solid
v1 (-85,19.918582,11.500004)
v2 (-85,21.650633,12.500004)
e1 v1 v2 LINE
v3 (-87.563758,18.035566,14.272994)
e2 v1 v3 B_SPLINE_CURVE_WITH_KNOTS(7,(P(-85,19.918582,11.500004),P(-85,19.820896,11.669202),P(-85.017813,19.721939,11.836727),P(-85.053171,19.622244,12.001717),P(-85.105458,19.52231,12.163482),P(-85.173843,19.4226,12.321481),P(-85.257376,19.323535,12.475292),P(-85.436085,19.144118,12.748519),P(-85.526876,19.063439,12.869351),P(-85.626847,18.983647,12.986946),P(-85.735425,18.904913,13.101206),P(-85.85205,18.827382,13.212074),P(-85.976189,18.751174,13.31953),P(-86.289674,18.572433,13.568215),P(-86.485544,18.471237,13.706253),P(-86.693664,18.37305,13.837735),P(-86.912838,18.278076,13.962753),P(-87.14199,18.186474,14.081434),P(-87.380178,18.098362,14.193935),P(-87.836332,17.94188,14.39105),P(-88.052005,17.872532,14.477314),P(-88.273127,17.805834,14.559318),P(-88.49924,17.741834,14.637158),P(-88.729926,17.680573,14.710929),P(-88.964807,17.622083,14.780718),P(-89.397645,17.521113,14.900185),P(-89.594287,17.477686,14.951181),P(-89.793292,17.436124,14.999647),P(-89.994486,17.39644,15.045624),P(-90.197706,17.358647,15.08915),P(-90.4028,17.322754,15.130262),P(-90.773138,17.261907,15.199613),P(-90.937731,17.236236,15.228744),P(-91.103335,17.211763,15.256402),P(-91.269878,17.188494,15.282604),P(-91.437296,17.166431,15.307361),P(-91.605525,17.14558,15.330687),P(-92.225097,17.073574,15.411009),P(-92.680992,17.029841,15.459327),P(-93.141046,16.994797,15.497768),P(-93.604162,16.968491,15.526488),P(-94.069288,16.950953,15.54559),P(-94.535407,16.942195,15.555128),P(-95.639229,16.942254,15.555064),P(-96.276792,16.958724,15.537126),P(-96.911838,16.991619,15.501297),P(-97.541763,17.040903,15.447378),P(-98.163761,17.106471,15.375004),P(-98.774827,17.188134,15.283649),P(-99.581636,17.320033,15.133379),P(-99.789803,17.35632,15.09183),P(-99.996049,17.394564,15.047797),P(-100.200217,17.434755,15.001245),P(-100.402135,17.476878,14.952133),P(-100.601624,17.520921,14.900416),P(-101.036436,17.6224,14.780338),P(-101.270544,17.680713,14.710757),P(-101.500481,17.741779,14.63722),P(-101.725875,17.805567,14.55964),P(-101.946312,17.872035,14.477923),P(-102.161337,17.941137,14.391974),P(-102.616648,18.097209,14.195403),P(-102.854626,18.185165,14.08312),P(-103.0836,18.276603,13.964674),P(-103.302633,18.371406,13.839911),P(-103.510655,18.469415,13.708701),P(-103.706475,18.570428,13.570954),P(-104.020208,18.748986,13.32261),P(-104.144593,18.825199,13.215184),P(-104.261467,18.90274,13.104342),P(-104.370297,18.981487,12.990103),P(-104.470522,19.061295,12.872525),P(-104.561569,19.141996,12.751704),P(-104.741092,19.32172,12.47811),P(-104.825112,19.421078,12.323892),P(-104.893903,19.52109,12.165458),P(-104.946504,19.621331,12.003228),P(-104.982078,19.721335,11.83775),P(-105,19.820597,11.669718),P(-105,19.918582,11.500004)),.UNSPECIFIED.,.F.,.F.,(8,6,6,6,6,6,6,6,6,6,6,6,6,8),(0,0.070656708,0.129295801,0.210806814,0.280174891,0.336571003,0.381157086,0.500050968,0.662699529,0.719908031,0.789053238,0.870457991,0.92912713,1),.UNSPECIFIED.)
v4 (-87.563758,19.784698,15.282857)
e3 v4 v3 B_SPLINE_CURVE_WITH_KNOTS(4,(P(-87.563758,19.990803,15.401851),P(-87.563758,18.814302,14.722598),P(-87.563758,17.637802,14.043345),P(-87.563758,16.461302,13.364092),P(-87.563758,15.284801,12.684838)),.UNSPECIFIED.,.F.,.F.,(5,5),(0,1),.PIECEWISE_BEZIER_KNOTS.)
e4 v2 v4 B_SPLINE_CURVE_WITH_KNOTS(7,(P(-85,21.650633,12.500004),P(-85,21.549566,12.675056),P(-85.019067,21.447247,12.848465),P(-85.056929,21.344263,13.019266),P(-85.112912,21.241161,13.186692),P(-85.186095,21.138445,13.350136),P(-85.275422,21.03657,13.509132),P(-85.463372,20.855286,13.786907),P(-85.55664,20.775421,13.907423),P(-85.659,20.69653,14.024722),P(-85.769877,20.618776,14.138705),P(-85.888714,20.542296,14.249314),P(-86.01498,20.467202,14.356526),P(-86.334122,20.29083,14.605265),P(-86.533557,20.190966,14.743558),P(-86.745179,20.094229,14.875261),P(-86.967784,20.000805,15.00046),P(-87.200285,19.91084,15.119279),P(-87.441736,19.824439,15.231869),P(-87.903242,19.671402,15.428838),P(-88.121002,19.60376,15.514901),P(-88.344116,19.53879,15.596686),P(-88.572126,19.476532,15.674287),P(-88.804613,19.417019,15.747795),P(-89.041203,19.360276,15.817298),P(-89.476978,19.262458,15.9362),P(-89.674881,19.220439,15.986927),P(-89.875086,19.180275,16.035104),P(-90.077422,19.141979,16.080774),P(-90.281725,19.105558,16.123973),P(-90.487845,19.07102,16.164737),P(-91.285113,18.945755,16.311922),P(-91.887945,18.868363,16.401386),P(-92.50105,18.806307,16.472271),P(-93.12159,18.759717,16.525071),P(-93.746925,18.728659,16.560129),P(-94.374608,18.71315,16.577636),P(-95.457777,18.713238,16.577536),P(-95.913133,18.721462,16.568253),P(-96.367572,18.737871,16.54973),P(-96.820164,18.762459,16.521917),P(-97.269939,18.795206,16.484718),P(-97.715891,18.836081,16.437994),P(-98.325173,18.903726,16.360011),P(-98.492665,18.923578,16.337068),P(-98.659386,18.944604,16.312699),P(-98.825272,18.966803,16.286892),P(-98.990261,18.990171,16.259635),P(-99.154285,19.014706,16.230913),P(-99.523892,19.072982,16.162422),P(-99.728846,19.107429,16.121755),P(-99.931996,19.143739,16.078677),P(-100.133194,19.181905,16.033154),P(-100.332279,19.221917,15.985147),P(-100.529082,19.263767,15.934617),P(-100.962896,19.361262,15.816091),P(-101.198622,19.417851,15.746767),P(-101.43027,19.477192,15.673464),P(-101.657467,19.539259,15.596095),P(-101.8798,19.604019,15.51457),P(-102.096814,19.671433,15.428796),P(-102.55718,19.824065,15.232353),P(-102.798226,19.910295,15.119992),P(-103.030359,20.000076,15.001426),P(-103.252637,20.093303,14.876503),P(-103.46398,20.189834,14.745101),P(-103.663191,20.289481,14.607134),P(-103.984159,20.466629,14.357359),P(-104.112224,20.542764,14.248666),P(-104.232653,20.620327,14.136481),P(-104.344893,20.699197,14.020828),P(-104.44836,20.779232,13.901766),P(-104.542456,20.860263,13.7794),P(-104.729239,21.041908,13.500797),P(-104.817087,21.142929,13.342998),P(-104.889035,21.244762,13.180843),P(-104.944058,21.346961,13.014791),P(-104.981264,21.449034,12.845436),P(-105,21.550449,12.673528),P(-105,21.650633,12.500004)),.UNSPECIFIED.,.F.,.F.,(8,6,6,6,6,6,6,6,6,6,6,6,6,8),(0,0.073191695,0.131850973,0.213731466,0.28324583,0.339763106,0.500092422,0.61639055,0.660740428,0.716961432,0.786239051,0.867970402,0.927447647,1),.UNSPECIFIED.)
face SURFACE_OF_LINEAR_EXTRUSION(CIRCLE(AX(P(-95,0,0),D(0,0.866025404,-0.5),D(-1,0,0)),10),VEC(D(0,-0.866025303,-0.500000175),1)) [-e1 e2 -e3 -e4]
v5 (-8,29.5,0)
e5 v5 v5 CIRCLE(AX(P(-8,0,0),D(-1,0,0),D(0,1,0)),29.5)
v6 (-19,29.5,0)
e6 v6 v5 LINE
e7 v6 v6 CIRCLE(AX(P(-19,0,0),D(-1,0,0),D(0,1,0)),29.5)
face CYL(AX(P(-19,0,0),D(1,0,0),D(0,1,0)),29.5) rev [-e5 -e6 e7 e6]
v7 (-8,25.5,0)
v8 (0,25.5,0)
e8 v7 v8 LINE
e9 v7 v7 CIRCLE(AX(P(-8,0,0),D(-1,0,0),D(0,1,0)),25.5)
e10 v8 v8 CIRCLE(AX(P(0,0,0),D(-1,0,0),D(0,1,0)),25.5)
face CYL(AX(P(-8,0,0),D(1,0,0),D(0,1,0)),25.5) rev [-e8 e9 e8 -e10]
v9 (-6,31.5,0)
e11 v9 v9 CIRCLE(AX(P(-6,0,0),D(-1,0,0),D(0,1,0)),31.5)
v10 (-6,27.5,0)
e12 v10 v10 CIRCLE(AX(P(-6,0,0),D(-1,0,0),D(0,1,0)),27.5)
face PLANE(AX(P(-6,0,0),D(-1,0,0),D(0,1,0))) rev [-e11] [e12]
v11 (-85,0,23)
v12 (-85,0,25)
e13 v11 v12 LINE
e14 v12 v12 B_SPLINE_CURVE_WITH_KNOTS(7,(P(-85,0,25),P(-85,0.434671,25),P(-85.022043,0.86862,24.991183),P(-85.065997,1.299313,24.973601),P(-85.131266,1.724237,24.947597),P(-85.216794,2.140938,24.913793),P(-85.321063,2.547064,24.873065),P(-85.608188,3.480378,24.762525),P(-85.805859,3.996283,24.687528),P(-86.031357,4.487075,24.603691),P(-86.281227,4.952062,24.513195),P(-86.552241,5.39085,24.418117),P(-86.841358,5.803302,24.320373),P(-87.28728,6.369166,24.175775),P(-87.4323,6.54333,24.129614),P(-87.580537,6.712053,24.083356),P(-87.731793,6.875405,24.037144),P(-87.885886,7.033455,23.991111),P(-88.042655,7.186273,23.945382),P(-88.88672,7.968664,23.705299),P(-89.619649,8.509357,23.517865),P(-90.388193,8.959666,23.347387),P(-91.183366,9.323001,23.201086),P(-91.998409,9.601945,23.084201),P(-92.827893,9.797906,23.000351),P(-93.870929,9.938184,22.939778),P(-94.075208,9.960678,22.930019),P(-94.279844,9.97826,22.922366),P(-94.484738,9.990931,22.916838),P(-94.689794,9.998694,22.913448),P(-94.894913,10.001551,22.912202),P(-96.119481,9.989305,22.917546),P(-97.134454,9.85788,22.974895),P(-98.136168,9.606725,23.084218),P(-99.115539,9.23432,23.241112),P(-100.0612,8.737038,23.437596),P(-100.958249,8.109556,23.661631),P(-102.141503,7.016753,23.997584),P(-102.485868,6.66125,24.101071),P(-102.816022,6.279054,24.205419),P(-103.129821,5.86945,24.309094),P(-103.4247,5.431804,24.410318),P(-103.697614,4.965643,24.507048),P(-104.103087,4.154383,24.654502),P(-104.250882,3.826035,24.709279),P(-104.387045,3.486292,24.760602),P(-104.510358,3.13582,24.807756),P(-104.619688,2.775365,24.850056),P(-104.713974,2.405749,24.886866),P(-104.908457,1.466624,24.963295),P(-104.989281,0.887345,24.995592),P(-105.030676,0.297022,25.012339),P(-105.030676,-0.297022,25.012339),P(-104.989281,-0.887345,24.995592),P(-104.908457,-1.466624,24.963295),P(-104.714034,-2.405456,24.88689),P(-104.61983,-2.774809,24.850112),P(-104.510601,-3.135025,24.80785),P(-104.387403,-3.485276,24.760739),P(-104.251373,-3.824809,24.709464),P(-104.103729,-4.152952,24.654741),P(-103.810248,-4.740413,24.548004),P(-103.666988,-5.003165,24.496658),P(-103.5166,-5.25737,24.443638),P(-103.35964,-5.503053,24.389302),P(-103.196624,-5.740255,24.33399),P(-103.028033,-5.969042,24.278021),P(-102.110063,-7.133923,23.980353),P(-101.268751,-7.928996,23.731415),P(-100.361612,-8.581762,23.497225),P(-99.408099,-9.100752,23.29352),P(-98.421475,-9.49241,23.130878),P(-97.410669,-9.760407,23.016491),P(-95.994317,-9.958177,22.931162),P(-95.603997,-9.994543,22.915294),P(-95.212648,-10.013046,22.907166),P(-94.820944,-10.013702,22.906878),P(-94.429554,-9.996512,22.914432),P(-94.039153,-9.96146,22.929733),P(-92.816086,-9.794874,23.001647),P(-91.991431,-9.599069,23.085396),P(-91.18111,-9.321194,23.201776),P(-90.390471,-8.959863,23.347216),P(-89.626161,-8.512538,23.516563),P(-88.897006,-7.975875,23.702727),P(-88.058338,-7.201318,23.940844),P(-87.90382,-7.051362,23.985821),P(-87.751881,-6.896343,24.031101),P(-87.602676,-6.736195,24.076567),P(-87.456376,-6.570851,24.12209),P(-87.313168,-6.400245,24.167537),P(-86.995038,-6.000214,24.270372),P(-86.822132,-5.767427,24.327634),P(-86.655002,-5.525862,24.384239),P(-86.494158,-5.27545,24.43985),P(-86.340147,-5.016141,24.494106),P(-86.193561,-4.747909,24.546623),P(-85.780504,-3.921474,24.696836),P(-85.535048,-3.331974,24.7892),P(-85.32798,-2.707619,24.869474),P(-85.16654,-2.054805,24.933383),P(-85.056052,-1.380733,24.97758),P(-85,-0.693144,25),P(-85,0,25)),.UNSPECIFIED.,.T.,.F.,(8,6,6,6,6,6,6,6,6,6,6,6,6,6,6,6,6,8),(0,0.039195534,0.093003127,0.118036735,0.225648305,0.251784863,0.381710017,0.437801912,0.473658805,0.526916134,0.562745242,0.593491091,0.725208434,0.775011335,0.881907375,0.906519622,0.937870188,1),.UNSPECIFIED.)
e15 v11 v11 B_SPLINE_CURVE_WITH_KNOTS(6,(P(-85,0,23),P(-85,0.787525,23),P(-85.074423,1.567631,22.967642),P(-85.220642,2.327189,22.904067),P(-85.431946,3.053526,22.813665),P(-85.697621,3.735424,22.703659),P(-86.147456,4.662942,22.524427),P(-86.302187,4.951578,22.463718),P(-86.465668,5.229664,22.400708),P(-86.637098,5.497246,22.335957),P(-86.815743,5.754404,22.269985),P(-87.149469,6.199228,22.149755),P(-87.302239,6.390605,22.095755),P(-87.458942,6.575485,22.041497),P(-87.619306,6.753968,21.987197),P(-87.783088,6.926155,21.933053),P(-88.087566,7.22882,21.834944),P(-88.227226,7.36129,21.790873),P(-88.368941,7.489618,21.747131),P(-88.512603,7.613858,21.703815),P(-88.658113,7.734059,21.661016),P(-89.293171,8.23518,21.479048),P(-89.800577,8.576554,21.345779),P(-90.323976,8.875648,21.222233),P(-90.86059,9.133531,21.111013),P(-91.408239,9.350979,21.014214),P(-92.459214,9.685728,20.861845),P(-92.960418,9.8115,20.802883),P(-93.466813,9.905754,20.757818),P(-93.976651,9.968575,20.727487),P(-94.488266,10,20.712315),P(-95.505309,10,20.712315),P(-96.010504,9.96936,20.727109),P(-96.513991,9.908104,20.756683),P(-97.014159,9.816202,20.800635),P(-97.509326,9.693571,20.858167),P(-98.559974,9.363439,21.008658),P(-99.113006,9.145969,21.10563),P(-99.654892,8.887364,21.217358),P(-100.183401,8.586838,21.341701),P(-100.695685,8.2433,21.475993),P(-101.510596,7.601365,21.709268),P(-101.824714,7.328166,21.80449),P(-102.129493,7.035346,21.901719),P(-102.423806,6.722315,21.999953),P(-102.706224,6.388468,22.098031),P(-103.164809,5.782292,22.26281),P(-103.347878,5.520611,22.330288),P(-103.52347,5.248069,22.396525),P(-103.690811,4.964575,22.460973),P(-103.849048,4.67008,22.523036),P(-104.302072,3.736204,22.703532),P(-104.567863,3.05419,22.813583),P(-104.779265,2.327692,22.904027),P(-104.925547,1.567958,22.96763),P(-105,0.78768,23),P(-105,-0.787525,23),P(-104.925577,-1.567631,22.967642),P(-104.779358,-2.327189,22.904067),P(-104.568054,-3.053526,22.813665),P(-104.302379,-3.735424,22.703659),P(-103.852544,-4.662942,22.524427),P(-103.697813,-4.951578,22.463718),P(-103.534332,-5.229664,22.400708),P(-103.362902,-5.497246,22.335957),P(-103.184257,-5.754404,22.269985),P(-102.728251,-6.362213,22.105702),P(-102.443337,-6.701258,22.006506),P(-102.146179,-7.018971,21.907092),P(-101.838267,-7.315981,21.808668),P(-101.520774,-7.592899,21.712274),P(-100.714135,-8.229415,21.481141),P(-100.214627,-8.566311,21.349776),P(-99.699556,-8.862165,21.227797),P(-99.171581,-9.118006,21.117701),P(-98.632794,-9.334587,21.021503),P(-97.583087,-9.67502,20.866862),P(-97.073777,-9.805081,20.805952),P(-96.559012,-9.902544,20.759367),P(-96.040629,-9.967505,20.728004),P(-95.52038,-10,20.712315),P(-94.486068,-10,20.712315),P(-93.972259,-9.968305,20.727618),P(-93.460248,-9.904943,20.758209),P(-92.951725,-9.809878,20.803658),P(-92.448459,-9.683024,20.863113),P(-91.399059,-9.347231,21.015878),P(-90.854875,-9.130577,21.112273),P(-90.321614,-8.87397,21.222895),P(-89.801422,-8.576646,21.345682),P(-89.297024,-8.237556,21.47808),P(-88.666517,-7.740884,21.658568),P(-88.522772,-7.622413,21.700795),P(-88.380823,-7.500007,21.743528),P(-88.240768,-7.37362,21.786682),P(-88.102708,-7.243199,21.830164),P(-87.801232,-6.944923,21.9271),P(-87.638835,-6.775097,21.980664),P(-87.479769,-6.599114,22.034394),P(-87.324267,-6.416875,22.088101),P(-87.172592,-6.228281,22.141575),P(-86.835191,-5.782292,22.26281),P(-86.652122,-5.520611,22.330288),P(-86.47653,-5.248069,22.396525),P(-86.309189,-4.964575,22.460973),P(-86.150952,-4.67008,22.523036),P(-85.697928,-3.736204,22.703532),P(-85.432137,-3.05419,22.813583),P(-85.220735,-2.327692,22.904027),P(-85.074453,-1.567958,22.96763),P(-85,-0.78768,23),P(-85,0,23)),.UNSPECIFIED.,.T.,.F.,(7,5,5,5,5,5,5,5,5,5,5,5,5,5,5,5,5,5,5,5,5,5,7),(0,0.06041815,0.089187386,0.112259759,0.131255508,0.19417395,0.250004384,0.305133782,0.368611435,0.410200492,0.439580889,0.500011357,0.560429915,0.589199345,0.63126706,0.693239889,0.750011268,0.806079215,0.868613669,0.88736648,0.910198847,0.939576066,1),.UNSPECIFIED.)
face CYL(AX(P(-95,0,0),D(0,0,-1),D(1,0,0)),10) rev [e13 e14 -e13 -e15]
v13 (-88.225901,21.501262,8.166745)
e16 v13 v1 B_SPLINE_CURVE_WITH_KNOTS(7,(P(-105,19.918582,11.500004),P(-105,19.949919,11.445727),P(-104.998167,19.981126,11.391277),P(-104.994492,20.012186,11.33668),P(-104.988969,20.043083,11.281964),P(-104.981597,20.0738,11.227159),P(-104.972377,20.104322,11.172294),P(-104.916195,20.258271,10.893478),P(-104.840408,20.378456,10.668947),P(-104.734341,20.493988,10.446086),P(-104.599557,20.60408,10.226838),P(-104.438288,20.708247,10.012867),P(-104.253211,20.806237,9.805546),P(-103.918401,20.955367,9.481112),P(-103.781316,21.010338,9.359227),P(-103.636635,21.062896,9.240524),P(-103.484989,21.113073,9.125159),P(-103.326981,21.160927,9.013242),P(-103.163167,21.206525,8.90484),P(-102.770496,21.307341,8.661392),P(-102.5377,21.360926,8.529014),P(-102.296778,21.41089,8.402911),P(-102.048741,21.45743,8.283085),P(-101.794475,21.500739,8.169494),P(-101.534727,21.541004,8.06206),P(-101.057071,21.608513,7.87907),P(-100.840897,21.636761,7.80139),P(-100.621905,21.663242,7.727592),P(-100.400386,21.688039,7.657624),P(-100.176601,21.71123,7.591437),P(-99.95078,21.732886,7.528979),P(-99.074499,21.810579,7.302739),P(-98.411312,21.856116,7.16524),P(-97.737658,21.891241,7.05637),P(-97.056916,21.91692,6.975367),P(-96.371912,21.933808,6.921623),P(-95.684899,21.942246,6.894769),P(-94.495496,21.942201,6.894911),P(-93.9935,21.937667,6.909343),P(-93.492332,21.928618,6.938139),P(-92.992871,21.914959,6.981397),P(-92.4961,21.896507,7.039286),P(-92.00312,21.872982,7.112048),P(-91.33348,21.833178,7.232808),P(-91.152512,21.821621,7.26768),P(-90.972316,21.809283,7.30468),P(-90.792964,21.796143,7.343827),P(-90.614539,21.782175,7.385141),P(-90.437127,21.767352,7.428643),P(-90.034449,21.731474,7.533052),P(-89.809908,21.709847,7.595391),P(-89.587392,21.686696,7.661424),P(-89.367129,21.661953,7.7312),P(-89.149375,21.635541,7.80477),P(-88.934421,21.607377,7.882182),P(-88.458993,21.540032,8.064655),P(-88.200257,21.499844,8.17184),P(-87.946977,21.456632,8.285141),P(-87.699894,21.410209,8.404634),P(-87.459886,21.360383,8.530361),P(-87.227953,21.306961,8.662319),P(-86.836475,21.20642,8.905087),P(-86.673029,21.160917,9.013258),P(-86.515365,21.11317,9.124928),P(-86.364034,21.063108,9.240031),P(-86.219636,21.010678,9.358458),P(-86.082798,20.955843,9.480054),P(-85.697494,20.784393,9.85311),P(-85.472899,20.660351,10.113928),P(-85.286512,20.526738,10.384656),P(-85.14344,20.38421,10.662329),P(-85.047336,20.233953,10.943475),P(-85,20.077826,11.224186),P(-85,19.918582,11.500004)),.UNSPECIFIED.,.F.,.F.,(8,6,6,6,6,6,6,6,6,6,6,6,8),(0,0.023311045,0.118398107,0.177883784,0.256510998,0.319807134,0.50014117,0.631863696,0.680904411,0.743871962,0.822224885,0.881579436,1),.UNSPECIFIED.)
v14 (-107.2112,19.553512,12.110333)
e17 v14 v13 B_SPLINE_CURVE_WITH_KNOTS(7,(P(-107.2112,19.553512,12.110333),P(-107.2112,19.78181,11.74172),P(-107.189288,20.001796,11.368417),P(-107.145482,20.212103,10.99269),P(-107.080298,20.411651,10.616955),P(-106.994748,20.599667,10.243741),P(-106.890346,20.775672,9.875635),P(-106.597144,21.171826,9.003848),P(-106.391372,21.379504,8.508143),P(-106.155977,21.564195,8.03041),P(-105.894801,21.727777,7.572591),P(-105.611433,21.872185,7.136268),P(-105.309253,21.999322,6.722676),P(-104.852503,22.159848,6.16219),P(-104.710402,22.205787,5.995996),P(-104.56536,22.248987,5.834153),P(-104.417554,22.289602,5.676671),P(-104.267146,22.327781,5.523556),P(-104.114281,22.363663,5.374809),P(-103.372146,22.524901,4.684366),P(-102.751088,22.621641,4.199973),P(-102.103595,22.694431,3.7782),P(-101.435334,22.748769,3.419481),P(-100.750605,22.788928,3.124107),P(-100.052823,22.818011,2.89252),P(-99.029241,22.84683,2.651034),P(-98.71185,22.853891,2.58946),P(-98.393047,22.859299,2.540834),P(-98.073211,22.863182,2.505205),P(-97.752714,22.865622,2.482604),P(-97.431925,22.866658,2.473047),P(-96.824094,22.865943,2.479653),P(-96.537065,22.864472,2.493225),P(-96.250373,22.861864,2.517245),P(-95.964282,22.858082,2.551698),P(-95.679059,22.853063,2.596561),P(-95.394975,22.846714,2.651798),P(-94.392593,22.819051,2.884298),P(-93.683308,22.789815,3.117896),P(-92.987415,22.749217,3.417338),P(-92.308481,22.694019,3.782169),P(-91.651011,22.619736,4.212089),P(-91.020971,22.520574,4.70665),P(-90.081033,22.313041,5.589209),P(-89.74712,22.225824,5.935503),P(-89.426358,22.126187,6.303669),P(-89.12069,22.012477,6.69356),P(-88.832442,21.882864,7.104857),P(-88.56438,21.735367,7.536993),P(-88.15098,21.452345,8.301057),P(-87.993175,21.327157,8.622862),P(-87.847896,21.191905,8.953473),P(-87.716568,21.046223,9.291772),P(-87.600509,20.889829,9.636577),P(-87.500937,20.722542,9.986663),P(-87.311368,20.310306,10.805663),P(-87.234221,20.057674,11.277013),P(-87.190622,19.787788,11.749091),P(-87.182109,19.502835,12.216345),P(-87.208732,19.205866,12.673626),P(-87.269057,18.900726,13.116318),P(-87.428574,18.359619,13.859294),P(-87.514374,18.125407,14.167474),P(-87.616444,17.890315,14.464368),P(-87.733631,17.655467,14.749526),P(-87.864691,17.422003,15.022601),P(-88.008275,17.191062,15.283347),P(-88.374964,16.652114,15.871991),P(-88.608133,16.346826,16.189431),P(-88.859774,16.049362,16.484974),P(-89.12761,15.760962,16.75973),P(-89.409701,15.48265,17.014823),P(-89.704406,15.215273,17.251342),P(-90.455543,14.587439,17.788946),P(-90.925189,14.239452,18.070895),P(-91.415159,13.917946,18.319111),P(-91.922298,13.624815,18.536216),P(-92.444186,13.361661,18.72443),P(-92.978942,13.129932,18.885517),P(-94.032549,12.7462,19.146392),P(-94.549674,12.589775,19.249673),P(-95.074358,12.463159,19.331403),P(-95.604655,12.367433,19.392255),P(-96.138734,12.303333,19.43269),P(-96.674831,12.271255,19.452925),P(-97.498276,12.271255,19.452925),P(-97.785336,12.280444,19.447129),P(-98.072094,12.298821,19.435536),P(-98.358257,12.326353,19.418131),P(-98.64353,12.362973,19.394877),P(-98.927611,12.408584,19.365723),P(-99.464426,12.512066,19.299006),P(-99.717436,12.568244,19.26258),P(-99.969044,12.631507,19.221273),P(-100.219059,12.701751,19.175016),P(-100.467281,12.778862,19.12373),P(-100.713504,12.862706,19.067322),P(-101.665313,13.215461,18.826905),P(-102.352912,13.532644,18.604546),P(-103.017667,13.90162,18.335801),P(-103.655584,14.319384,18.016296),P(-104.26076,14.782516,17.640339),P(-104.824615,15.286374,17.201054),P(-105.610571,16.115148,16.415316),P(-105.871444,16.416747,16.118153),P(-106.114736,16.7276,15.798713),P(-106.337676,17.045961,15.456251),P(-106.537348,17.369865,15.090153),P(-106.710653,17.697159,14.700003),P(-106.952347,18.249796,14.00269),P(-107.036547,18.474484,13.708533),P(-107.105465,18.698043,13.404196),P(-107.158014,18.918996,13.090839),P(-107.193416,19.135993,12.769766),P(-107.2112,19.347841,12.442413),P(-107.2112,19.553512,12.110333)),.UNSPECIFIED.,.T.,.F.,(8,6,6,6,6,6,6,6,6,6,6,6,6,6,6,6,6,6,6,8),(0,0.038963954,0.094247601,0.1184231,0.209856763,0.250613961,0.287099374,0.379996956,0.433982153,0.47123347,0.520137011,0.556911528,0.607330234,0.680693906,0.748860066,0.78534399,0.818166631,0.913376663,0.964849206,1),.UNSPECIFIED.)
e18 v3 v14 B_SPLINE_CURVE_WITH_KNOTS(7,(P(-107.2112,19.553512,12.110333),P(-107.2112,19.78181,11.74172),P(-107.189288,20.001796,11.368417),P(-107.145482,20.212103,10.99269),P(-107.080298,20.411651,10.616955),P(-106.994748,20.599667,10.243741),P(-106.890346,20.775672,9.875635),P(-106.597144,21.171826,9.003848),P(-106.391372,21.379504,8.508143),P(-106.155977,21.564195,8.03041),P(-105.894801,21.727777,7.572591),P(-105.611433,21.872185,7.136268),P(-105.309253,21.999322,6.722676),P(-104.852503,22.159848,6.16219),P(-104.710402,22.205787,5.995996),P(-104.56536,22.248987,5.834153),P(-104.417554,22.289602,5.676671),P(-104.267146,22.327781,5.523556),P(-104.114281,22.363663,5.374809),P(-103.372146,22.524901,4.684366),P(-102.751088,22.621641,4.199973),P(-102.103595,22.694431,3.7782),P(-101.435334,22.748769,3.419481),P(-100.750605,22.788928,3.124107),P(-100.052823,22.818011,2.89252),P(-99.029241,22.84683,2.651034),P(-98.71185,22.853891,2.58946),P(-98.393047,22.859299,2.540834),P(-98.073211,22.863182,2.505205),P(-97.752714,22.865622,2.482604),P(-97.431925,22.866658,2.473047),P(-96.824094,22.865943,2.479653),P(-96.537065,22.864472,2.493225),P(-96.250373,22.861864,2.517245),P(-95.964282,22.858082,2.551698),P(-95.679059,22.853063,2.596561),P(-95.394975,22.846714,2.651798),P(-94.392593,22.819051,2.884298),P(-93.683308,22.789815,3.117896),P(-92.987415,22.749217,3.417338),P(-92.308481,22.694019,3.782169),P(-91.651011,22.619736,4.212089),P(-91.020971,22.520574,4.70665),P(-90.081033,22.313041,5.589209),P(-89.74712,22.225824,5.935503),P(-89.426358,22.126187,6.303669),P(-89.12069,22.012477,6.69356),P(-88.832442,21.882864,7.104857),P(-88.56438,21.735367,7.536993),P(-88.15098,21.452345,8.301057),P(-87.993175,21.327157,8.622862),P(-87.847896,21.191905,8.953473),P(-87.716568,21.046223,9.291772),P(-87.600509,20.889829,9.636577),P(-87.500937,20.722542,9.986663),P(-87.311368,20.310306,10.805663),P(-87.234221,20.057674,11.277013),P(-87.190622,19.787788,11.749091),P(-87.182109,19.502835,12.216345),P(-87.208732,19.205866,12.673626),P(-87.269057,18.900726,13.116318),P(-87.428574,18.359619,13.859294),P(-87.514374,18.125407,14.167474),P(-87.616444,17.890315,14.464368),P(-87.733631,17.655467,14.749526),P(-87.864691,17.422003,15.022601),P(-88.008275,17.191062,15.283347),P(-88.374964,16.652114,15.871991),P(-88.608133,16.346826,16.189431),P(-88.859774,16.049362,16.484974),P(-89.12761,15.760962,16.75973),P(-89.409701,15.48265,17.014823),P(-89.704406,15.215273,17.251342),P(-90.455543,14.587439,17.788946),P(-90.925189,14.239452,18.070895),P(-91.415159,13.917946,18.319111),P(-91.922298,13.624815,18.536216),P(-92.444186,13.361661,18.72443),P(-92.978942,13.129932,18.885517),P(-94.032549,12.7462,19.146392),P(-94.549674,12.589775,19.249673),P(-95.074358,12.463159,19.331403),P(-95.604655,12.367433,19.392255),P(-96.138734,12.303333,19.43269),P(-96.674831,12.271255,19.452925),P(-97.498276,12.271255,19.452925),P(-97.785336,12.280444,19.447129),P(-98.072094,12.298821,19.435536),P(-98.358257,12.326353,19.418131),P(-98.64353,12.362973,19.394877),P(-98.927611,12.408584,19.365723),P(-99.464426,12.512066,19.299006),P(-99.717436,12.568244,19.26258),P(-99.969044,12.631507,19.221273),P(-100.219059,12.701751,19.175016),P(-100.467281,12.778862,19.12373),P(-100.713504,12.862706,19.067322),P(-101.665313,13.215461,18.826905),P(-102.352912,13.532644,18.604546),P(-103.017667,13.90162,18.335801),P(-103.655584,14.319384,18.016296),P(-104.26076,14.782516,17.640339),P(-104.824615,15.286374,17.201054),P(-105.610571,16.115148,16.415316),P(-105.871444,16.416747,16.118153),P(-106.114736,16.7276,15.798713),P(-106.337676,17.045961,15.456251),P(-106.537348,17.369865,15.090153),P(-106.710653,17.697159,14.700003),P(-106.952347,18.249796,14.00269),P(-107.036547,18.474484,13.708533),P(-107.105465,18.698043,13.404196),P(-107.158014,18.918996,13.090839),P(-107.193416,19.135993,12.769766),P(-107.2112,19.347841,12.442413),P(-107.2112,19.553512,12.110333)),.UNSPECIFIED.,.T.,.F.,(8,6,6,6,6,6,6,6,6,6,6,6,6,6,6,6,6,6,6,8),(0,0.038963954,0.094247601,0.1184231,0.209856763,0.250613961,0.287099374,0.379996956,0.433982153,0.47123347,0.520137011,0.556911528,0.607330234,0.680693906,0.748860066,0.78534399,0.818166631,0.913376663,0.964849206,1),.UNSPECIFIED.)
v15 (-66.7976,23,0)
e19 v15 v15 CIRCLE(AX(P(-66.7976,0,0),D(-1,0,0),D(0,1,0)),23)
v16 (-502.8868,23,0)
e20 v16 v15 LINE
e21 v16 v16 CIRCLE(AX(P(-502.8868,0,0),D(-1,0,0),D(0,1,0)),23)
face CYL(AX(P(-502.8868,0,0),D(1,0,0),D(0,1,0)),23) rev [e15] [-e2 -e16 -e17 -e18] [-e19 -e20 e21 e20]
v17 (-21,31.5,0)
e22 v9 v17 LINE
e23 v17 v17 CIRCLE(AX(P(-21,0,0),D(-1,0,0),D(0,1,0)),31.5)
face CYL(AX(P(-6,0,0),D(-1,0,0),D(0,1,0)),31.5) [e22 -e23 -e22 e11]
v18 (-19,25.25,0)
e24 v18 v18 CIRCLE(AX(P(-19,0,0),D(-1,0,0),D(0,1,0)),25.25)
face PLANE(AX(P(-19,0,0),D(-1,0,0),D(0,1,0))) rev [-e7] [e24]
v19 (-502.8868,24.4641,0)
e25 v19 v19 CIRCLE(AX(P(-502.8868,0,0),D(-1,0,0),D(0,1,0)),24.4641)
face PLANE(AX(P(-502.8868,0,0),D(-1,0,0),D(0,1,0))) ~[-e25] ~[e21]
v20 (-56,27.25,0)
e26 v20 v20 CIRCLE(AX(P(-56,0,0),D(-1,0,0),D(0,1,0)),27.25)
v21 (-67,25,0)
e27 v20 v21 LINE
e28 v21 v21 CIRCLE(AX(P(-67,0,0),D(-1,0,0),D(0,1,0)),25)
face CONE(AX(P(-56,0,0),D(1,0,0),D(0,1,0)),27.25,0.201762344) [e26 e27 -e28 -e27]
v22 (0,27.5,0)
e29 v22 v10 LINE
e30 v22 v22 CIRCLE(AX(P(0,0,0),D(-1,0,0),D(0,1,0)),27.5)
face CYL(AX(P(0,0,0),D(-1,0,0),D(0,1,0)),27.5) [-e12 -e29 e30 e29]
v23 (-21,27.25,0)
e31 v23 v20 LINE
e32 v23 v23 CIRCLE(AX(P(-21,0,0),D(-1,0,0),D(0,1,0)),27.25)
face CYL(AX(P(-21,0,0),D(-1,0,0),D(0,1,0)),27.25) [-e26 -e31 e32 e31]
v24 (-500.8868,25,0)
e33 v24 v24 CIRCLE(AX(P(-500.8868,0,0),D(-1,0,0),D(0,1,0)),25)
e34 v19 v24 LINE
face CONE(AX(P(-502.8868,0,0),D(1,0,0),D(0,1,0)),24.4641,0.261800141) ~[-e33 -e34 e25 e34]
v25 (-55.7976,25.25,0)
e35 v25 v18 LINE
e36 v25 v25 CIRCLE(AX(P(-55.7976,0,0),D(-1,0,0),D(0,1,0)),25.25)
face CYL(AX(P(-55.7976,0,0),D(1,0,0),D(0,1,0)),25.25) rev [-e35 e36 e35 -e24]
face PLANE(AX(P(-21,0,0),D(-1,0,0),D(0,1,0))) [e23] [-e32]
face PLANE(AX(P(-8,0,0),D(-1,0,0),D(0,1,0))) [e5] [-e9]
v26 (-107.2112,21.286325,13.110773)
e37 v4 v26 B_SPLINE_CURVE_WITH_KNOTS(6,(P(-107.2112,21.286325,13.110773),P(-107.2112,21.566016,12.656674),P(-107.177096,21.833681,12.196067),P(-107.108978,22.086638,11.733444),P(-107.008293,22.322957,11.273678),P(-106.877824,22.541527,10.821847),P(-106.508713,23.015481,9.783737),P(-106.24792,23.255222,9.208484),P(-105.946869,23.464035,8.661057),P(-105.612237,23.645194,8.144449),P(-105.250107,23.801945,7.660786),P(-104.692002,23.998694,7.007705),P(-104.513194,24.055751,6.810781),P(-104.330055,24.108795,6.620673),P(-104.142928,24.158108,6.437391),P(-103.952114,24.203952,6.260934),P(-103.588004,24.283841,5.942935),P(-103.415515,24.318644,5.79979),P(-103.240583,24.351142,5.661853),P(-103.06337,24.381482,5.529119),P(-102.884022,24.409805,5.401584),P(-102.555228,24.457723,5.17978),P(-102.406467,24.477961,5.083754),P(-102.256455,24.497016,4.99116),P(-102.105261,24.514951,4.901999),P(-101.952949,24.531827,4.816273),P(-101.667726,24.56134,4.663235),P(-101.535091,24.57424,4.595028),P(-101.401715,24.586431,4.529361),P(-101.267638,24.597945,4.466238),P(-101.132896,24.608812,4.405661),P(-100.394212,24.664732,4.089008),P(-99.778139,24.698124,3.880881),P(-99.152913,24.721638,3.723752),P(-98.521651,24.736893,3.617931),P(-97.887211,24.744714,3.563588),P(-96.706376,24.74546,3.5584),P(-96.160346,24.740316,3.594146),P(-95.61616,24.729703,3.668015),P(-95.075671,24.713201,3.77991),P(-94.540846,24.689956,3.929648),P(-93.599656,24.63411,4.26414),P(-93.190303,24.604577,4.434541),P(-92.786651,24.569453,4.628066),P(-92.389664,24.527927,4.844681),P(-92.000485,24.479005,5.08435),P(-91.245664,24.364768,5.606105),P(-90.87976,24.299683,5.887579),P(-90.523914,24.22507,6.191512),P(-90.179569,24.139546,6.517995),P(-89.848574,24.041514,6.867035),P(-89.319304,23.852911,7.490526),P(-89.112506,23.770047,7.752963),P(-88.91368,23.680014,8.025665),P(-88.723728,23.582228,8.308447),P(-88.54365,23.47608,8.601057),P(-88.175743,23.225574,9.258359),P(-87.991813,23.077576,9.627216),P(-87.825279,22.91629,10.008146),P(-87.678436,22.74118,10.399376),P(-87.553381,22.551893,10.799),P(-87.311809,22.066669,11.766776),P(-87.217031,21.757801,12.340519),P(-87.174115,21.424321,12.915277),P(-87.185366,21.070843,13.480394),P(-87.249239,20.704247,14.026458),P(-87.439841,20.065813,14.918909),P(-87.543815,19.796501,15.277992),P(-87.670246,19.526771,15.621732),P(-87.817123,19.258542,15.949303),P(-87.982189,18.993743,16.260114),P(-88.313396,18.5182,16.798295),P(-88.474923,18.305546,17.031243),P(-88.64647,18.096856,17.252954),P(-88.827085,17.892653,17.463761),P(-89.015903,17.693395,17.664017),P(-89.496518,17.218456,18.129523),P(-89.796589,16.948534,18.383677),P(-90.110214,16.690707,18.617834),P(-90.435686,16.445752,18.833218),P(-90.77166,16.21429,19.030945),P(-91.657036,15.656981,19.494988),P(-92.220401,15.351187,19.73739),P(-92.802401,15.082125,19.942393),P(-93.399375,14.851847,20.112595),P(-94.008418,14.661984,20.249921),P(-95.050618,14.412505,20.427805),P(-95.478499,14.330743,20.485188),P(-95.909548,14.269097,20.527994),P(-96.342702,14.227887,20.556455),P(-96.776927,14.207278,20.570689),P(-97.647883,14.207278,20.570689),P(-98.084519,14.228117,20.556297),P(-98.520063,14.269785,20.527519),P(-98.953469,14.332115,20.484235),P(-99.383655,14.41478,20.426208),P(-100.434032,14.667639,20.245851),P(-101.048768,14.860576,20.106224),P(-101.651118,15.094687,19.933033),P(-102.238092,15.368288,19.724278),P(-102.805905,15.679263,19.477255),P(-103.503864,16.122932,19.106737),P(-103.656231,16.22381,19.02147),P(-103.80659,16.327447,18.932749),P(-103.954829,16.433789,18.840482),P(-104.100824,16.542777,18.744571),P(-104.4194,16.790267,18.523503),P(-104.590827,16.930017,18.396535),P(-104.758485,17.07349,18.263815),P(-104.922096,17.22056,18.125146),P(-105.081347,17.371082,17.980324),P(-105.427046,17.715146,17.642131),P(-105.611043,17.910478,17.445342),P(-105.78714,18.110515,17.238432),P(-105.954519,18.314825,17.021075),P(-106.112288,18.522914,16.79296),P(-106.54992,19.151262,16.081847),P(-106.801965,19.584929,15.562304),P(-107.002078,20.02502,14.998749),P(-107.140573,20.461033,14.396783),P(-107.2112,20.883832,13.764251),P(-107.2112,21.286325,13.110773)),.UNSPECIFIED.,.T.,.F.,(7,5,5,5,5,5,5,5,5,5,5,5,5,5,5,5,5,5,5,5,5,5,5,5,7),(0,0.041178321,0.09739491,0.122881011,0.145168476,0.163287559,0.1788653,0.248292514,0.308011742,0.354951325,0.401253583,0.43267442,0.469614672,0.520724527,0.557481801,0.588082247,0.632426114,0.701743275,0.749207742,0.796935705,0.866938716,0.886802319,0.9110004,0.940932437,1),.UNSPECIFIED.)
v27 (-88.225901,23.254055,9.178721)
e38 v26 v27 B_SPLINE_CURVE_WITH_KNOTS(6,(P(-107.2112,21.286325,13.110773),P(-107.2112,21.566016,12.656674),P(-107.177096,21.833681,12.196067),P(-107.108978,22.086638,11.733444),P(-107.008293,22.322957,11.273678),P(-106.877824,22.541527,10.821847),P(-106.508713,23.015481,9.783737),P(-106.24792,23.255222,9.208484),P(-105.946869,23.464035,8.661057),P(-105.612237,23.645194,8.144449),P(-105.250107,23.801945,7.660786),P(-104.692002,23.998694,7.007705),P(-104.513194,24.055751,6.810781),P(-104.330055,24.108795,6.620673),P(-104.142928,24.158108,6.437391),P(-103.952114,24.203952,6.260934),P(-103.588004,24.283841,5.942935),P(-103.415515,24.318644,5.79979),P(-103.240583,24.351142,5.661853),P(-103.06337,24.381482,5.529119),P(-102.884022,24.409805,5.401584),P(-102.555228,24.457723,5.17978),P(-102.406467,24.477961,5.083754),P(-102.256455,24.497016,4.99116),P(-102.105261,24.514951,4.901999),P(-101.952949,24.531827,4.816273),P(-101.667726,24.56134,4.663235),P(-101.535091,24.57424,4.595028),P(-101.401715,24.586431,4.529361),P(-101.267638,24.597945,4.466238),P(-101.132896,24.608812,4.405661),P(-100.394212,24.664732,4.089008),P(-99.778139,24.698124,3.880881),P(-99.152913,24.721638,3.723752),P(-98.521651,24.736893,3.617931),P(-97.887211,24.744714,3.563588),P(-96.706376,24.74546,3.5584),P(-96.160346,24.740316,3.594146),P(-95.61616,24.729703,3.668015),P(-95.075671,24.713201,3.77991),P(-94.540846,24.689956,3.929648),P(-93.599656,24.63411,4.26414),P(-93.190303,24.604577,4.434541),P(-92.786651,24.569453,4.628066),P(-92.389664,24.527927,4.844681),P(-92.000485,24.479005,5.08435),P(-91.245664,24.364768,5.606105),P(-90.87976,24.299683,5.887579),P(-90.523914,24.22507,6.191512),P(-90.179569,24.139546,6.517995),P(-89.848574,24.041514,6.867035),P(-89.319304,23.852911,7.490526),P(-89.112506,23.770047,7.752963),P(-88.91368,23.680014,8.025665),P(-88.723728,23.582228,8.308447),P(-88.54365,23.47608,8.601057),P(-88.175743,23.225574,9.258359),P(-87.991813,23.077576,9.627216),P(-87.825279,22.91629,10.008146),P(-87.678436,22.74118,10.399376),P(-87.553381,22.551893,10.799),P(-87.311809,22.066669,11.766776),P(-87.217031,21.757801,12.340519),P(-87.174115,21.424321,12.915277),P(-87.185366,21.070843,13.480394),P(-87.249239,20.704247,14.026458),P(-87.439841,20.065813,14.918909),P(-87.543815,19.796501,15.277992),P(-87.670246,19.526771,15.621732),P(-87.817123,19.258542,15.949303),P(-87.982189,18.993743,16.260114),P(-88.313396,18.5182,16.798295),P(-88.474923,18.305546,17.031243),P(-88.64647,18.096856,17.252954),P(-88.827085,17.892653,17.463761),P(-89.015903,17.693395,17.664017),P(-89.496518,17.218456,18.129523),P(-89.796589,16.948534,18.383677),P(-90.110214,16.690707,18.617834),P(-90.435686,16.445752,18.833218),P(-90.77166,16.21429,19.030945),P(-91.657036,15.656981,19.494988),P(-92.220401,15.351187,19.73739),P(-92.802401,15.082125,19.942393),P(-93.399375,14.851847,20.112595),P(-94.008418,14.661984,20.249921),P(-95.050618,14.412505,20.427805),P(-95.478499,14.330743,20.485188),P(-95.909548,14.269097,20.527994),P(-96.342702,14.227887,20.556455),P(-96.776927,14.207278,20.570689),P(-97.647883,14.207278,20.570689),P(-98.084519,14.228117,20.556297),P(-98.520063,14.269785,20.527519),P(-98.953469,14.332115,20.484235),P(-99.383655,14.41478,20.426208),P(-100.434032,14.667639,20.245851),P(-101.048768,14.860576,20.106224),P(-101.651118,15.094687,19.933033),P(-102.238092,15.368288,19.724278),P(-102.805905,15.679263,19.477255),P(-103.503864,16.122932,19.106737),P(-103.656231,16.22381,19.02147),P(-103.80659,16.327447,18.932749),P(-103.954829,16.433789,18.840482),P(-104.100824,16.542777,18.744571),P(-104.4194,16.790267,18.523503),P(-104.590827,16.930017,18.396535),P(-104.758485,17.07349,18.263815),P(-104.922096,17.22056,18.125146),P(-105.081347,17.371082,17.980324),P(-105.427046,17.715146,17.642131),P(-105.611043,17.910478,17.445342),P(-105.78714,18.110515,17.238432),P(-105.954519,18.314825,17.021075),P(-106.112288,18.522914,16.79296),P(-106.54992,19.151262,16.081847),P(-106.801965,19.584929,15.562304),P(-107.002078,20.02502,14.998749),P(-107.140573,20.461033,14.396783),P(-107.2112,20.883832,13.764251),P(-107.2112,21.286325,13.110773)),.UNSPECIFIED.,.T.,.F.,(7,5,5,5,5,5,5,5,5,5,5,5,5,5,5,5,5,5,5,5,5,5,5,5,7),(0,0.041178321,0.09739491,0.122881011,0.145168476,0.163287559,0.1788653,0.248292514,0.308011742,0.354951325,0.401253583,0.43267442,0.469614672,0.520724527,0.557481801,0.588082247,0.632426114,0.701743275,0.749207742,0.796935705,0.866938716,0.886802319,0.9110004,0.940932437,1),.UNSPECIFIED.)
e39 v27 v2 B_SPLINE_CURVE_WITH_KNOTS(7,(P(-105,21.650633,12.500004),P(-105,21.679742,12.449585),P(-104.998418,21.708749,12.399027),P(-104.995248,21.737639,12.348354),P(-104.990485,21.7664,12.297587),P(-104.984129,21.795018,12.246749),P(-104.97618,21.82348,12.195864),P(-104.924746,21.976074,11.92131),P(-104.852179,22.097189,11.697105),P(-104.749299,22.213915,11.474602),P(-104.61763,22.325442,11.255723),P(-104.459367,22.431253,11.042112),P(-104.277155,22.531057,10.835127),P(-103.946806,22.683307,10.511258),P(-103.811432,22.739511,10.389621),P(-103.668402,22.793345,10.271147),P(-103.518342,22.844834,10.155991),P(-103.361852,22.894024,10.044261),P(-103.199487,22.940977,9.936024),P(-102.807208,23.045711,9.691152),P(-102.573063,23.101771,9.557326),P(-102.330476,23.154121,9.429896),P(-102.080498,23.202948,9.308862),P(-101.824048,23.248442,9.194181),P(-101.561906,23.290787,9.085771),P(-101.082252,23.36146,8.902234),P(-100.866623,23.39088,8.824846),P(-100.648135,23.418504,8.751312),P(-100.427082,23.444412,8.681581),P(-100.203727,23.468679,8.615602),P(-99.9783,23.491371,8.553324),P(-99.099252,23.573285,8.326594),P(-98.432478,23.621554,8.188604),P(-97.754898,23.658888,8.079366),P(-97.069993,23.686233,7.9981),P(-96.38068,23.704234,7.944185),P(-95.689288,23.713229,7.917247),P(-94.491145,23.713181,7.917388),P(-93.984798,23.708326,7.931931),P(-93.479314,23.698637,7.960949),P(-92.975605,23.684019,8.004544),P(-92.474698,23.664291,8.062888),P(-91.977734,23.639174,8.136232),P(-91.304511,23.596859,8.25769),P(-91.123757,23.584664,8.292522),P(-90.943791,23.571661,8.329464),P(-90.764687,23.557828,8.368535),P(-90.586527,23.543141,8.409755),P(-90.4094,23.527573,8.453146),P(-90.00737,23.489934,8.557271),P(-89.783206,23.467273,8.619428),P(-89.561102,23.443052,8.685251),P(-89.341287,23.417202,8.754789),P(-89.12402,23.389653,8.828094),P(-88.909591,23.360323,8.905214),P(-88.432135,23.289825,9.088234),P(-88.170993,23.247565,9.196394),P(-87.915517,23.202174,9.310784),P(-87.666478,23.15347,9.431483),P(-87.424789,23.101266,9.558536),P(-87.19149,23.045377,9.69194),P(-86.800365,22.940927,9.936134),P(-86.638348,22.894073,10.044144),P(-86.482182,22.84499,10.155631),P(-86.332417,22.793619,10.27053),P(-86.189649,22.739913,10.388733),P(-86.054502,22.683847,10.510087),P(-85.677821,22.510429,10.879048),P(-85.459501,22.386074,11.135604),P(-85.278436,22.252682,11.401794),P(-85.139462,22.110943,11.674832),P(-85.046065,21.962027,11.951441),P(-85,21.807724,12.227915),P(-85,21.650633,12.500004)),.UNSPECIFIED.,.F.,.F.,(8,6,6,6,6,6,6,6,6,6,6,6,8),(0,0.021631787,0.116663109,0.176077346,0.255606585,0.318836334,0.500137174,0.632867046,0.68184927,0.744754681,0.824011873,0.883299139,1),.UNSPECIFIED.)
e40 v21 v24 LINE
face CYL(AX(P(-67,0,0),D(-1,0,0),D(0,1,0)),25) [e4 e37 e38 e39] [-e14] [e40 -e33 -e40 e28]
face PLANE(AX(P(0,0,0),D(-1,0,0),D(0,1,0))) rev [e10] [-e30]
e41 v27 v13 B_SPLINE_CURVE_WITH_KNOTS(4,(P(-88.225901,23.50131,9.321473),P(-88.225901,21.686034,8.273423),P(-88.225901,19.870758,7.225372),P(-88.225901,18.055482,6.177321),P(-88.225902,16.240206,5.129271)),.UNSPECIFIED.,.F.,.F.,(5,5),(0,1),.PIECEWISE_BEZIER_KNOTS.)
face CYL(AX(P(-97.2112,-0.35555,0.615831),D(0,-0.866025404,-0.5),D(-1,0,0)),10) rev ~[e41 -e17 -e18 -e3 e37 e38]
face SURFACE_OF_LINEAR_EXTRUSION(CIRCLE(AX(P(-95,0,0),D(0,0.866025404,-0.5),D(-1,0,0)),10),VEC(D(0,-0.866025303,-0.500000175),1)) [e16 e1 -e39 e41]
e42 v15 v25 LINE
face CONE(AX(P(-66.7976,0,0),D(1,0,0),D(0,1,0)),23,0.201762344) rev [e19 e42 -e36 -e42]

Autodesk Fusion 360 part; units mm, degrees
sketch "Skizze1" plane through (0, 0, 0) normal (0, 0, 1) x (1, 0, 0)
  line L0 (-502.8868, 23) -> (-66.7976, 23)
  line L1 (-66.7976, 23) -> (-55.7976, 25.25)
  line L2 (-55.7976, 25.25) -> (-19, 25.25)
  line L3 (-19, 25.25) -> (-19, 29.5)
  line L4 (-19, 29.5) -> (-8, 29.5)
  line L5 (-8, 29.5) -> (-8, 25.5)
  line L6 (-8, 25.5) -> (0, 25.5)
  line L7 (0, 27.5) -> (-6, 27.5)
  line L8 (-6, 27.5) -> (-6, 31.5)
  line L9 (-6, 31.5) -> (-21, 31.5)
  line L10 (-21, 31.5) -> (-21, 27.25)
  line L11 (-21, 27.25) -> (-56, 27.25)
  line L12 (-56, 27.25) -> (-67, 25)
  line L13 (-67, 25) -> (-500.8868, 25)
  line L14 (0, 0) -> (-103.5201, 0)
  line L15 (-502.8868, 23) -> (-502.8868, 24.4641)
  line L16 (-502.8868, 24.4641) -> (-500.8868, 25)
  line L17 (0, 25.5) -> (0, 27.5)
  dimension "d2" = 15
  dimension "d3" = 2
  dimension "d4" = 2
  dimension "d5" = 63
  dimension "d6" = 2
  dimension "d7" = 55
  dimension "d8" = 54.5
  dimension "d10" = 50
  dimension "d12" = 2
  dimension "d13" = 2
  dimension "d14" = 2
  dimension "d15" = 35
  dimension "d16" = 46
  dimension "d17" = 2
  dimension "d18" = 2
  dimension "d19" = 15
  dimension "d21" = 6
revolve "Drehen1" add sketch "Skizze1" angle 360 about axis through (0, 0, 0) along (-1, 0, 0)
sketch "Skizze2" plane through (0, 0, 0) normal (0, 0, 1) x (1, 0, 0)
  line L0 (0, 0) -> (-160, 0) construction
  circle A0 centre (-95, 0) radius 10
  dimension "d23" = 20
extrude "Extrusion1" cut sketch "Skizze2" along normal up to surface end surface at (-211.6289, 24.9689, 1.2461)
ref_plane "Arbeitsebene1" through (-51.76, 0, 0) normal (0, 0.866, -0.5) x (-1, 0, 0)
sketch "Skizze3" plane through (0, 0, 0) normal (0, 0.866, -0.5) x (-1, 0, 0)
  line L0 (0, 0) -> (140, 0)
  spline S0 degree 3 poles (95, 12.9374) (93.7247, 12.9374) (92.3784, 13.1794) (89.9209, 14.081) (88.808, 14.7328) (87.0511, 16.1029) (86.2839, 16.9168) (85.2579, 18.508) (85, 19.2819) (85, 20.5553) (85.2579, 21.1286) (86.2839, 21.9966) (87.0511, 22.2961) (88.808, 22.683) (89.9209, 22.7974) (92.3784, 22.921) (93.7247, 22.9374) (96.2753, 22.9374) (97.6216, 22.921) (100.0791, 22.7974) (101.192, 22.683) (102.9489, 22.2961) (103.7161, 21.9966) (104.7421, 21.1286) (105, 20.5553) (105, 19.2819) (104.7421, 18.508) (103.7161, 16.9168) (102.9489, 16.1029) (101.192, 14.7328) (100.0791, 14.081) (97.6216, 13.1794) (96.2753, 12.9374) (95, 12.9374) knots 0 0 0 0 0.382584 0.382584 0.765167 0.765167 1.147194 1.147194 1.52922 1.52922 1.911247 1.911247 2.293273 2.293273 2.675857 2.675857 3.058441 3.058441 3.441024 3.441024 3.823608 3.823608 4.205634 4.205634 4.587661 4.587661 4.969687 4.969687 5.351714 5.351714 5.734298 5.734298 6.116881 6.116881 6.116881 6.116881
  spline S1 degree 3 poles (95, 14.8431) (96.2719, 14.8431) (97.6172, 15.0731) (100.0759, 15.9379) (101.1907, 16.566) (102.9506, 17.8954) (103.7181, 18.6888) (104.7432, 20.2505) (105, 21.0153) (105, 22.2859) (104.7432, 22.8669) (103.7181, 23.7652) (102.9506, 24.0869) (101.1907, 24.5175) (100.0759, 24.6562) (97.6172, 24.816) (96.2719, 24.8431) (93.7281, 24.8431) (92.3828, 24.816) (89.9241, 24.6562) (88.8093, 24.5175) (87.0494, 24.0869) (86.2819, 23.7652) (85.2568, 22.8669) (85, 22.2859) (85, 21.0153) (85.2568, 20.2505) (86.2819, 18.6888) (87.0494, 17.8954) (88.8093, 16.566) (89.9241, 15.9379) (92.3828, 15.0731) (93.7281, 14.8431) (95, 14.8431) knots 0 0 0 0 0.381558 0.381558 0.763115 0.763115 1.144287 1.144287 1.525459 1.525459 1.90663 1.90663 2.287802 2.287802 2.66936 2.66936 3.050917 3.050917 3.432475 3.432475 3.814033 3.814033 4.195204 4.195204 4.576376 4.576376 4.957548 4.957548 5.338719 5.338719 5.720277 5.720277 6.101835 6.101835 6.101835 6.101835
  spline S2 degree 3 poles (95, 12.9374) (93.7247, 12.9374) (92.3784, 13.1794) (89.9209, 14.081) (88.808, 14.7328) (87.0511, 16.1029) (86.2839, 16.9168) (85.2579, 18.508) (85, 19.2819) (85, 20.5553) (85.2579, 21.1286) (86.2839, 21.9966) (87.0511, 22.2961) (88.808, 22.683) (89.9209, 22.7974) (92.3784, 22.921) (93.7247, 22.9374) (96.2753, 22.9374) (97.6216, 22.921) (100.0791, 22.7974) (101.192, 22.683) (102.9489, 22.2961) (103.7161, 21.9966) (104.7421, 21.1286) (105, 20.5553) (105, 19.2819) (104.7421, 18.508) (103.7161, 16.9168) (102.9489, 16.1029) (101.192, 14.7328) (100.0791, 14.081) (97.6216, 13.1794) (96.2753, 12.9374) (95, 12.9374) knots 0 0 0 0 0.382584 0.382584 0.765167 0.765167 1.147194 1.147194 1.52922 1.52922 1.911247 1.911247 2.293273 2.293273 2.675857 2.675857 3.058441 3.058441 3.441024 3.441024 3.823608 3.823608 4.205634 4.205634 4.587661 4.587661 4.969687 4.969687 5.351714 5.351714 5.734298 5.734298 6.116881 6.116881 6.116881 6.116881
  line L1 (95, 12.9374) -> (95, 0) construction
  circle A0 centre (95, 0) radius 10
extrude "Extrusion2" cut sketch "Skizze3" along direction (0, 0.866025, 0.5) up to surface contours L0 A0 | L0 A0 end surface at (-211.6289, 24.9689, 1.2461)
ref_plane "Arbeitsebene2" through (-51.76, 0, 0) normal (0, -0.866, -0.5) x (-1, 0, 0)
sketch "Skizze4" plane through (0, 0, 0) normal (0, -0.866, -0.5) x (-1, 0, 0)
  circle A0 centre (97.2112, -0.7111) radius 10
  spline S0 degree 3 poles (95, -22.9374) (93.7247, -22.9374) (92.3784, -22.921) (89.9209, -22.7974) (88.808, -22.683) (87.0511, -22.2961) (86.2839, -21.9966) (85.2579, -21.1286) (85, -20.5553) (85, -19.2819) (85.2579, -18.508) (86.2839, -16.9168) (87.0511, -16.1029) (88.808, -14.7328) (89.9209, -14.081) (92.3784, -13.1794) (93.7247, -12.9374) (96.2753, -12.9374) (97.6216, -13.1794) (100.0791, -14.081) (101.192, -14.7328) (102.9489, -16.1029) (103.7161, -16.9168) (104.7421, -18.508) (105, -19.2819) (105, -20.5553) (104.7421, -21.1286) (103.7161, -21.9966) (102.9489, -22.2961) (101.192, -22.683) (100.0791, -22.7974) (97.6216, -22.921) (96.2753, -22.9374) (95, -22.9374) knots 0 0 0 0 0.382584 0.382584 0.765167 0.765167 1.147194 1.147194 1.52922 1.52922 1.911247 1.911247 2.293273 2.293273 2.675857 2.675857 3.058441 3.058441 3.441024 3.441024 3.823608 3.823608 4.205634 4.205634 4.587661 4.587661 4.969687 4.969687 5.351714 5.351714 5.734298 5.734298 6.116881 6.116881 6.116881 6.116881
  spline S1 degree 3 poles (95, -24.8431) (96.2719, -24.8431) (97.6172, -24.816) (100.0759, -24.6562) (101.1907, -24.5175) (102.9506, -24.0869) (103.7181, -23.7652) (104.7432, -22.8669) (105, -22.2859) (105, -21.0153) (104.7432, -20.2505) (103.7181, -18.6888) (102.9506, -17.8954) (101.1907, -16.566) (100.0759, -15.9379) (97.6172, -15.0731) (96.2719, -14.8431) (93.7281, -14.8431) (92.3828, -15.0731) (89.9241, -15.9379) (88.8093, -16.566) (87.0494, -17.8954) (86.2819, -18.6888) (85.2568, -20.2505) (85, -21.0153) (85, -22.2859) (85.2568, -22.8669) (86.2819, -23.7652) (87.0494, -24.0869) (88.8093, -24.5175) (89.9241, -24.6562) (92.3828, -24.816) (93.7281, -24.8431) (95, -24.8431) knots 0 0 0 0 0.381558 0.381558 0.763115 0.763115 1.144287 1.144287 1.525459 1.525459 1.90663 1.90663 2.287802 2.287802 2.66936 2.66936 3.050917 3.050917 3.432475 3.432475 3.814033 3.814033 4.195204 4.195204 4.576376 4.576376 4.957548 4.957548 5.338719 5.338719 5.720277 5.720277 6.101835 6.101835 6.101835 6.101835
  dimension "d30" = 20
extrude "Extrusion3" cut sketch "Skizze4" along normal up to surface contours A0 end surface at (-221.189, 16.6886, 18.6143)
